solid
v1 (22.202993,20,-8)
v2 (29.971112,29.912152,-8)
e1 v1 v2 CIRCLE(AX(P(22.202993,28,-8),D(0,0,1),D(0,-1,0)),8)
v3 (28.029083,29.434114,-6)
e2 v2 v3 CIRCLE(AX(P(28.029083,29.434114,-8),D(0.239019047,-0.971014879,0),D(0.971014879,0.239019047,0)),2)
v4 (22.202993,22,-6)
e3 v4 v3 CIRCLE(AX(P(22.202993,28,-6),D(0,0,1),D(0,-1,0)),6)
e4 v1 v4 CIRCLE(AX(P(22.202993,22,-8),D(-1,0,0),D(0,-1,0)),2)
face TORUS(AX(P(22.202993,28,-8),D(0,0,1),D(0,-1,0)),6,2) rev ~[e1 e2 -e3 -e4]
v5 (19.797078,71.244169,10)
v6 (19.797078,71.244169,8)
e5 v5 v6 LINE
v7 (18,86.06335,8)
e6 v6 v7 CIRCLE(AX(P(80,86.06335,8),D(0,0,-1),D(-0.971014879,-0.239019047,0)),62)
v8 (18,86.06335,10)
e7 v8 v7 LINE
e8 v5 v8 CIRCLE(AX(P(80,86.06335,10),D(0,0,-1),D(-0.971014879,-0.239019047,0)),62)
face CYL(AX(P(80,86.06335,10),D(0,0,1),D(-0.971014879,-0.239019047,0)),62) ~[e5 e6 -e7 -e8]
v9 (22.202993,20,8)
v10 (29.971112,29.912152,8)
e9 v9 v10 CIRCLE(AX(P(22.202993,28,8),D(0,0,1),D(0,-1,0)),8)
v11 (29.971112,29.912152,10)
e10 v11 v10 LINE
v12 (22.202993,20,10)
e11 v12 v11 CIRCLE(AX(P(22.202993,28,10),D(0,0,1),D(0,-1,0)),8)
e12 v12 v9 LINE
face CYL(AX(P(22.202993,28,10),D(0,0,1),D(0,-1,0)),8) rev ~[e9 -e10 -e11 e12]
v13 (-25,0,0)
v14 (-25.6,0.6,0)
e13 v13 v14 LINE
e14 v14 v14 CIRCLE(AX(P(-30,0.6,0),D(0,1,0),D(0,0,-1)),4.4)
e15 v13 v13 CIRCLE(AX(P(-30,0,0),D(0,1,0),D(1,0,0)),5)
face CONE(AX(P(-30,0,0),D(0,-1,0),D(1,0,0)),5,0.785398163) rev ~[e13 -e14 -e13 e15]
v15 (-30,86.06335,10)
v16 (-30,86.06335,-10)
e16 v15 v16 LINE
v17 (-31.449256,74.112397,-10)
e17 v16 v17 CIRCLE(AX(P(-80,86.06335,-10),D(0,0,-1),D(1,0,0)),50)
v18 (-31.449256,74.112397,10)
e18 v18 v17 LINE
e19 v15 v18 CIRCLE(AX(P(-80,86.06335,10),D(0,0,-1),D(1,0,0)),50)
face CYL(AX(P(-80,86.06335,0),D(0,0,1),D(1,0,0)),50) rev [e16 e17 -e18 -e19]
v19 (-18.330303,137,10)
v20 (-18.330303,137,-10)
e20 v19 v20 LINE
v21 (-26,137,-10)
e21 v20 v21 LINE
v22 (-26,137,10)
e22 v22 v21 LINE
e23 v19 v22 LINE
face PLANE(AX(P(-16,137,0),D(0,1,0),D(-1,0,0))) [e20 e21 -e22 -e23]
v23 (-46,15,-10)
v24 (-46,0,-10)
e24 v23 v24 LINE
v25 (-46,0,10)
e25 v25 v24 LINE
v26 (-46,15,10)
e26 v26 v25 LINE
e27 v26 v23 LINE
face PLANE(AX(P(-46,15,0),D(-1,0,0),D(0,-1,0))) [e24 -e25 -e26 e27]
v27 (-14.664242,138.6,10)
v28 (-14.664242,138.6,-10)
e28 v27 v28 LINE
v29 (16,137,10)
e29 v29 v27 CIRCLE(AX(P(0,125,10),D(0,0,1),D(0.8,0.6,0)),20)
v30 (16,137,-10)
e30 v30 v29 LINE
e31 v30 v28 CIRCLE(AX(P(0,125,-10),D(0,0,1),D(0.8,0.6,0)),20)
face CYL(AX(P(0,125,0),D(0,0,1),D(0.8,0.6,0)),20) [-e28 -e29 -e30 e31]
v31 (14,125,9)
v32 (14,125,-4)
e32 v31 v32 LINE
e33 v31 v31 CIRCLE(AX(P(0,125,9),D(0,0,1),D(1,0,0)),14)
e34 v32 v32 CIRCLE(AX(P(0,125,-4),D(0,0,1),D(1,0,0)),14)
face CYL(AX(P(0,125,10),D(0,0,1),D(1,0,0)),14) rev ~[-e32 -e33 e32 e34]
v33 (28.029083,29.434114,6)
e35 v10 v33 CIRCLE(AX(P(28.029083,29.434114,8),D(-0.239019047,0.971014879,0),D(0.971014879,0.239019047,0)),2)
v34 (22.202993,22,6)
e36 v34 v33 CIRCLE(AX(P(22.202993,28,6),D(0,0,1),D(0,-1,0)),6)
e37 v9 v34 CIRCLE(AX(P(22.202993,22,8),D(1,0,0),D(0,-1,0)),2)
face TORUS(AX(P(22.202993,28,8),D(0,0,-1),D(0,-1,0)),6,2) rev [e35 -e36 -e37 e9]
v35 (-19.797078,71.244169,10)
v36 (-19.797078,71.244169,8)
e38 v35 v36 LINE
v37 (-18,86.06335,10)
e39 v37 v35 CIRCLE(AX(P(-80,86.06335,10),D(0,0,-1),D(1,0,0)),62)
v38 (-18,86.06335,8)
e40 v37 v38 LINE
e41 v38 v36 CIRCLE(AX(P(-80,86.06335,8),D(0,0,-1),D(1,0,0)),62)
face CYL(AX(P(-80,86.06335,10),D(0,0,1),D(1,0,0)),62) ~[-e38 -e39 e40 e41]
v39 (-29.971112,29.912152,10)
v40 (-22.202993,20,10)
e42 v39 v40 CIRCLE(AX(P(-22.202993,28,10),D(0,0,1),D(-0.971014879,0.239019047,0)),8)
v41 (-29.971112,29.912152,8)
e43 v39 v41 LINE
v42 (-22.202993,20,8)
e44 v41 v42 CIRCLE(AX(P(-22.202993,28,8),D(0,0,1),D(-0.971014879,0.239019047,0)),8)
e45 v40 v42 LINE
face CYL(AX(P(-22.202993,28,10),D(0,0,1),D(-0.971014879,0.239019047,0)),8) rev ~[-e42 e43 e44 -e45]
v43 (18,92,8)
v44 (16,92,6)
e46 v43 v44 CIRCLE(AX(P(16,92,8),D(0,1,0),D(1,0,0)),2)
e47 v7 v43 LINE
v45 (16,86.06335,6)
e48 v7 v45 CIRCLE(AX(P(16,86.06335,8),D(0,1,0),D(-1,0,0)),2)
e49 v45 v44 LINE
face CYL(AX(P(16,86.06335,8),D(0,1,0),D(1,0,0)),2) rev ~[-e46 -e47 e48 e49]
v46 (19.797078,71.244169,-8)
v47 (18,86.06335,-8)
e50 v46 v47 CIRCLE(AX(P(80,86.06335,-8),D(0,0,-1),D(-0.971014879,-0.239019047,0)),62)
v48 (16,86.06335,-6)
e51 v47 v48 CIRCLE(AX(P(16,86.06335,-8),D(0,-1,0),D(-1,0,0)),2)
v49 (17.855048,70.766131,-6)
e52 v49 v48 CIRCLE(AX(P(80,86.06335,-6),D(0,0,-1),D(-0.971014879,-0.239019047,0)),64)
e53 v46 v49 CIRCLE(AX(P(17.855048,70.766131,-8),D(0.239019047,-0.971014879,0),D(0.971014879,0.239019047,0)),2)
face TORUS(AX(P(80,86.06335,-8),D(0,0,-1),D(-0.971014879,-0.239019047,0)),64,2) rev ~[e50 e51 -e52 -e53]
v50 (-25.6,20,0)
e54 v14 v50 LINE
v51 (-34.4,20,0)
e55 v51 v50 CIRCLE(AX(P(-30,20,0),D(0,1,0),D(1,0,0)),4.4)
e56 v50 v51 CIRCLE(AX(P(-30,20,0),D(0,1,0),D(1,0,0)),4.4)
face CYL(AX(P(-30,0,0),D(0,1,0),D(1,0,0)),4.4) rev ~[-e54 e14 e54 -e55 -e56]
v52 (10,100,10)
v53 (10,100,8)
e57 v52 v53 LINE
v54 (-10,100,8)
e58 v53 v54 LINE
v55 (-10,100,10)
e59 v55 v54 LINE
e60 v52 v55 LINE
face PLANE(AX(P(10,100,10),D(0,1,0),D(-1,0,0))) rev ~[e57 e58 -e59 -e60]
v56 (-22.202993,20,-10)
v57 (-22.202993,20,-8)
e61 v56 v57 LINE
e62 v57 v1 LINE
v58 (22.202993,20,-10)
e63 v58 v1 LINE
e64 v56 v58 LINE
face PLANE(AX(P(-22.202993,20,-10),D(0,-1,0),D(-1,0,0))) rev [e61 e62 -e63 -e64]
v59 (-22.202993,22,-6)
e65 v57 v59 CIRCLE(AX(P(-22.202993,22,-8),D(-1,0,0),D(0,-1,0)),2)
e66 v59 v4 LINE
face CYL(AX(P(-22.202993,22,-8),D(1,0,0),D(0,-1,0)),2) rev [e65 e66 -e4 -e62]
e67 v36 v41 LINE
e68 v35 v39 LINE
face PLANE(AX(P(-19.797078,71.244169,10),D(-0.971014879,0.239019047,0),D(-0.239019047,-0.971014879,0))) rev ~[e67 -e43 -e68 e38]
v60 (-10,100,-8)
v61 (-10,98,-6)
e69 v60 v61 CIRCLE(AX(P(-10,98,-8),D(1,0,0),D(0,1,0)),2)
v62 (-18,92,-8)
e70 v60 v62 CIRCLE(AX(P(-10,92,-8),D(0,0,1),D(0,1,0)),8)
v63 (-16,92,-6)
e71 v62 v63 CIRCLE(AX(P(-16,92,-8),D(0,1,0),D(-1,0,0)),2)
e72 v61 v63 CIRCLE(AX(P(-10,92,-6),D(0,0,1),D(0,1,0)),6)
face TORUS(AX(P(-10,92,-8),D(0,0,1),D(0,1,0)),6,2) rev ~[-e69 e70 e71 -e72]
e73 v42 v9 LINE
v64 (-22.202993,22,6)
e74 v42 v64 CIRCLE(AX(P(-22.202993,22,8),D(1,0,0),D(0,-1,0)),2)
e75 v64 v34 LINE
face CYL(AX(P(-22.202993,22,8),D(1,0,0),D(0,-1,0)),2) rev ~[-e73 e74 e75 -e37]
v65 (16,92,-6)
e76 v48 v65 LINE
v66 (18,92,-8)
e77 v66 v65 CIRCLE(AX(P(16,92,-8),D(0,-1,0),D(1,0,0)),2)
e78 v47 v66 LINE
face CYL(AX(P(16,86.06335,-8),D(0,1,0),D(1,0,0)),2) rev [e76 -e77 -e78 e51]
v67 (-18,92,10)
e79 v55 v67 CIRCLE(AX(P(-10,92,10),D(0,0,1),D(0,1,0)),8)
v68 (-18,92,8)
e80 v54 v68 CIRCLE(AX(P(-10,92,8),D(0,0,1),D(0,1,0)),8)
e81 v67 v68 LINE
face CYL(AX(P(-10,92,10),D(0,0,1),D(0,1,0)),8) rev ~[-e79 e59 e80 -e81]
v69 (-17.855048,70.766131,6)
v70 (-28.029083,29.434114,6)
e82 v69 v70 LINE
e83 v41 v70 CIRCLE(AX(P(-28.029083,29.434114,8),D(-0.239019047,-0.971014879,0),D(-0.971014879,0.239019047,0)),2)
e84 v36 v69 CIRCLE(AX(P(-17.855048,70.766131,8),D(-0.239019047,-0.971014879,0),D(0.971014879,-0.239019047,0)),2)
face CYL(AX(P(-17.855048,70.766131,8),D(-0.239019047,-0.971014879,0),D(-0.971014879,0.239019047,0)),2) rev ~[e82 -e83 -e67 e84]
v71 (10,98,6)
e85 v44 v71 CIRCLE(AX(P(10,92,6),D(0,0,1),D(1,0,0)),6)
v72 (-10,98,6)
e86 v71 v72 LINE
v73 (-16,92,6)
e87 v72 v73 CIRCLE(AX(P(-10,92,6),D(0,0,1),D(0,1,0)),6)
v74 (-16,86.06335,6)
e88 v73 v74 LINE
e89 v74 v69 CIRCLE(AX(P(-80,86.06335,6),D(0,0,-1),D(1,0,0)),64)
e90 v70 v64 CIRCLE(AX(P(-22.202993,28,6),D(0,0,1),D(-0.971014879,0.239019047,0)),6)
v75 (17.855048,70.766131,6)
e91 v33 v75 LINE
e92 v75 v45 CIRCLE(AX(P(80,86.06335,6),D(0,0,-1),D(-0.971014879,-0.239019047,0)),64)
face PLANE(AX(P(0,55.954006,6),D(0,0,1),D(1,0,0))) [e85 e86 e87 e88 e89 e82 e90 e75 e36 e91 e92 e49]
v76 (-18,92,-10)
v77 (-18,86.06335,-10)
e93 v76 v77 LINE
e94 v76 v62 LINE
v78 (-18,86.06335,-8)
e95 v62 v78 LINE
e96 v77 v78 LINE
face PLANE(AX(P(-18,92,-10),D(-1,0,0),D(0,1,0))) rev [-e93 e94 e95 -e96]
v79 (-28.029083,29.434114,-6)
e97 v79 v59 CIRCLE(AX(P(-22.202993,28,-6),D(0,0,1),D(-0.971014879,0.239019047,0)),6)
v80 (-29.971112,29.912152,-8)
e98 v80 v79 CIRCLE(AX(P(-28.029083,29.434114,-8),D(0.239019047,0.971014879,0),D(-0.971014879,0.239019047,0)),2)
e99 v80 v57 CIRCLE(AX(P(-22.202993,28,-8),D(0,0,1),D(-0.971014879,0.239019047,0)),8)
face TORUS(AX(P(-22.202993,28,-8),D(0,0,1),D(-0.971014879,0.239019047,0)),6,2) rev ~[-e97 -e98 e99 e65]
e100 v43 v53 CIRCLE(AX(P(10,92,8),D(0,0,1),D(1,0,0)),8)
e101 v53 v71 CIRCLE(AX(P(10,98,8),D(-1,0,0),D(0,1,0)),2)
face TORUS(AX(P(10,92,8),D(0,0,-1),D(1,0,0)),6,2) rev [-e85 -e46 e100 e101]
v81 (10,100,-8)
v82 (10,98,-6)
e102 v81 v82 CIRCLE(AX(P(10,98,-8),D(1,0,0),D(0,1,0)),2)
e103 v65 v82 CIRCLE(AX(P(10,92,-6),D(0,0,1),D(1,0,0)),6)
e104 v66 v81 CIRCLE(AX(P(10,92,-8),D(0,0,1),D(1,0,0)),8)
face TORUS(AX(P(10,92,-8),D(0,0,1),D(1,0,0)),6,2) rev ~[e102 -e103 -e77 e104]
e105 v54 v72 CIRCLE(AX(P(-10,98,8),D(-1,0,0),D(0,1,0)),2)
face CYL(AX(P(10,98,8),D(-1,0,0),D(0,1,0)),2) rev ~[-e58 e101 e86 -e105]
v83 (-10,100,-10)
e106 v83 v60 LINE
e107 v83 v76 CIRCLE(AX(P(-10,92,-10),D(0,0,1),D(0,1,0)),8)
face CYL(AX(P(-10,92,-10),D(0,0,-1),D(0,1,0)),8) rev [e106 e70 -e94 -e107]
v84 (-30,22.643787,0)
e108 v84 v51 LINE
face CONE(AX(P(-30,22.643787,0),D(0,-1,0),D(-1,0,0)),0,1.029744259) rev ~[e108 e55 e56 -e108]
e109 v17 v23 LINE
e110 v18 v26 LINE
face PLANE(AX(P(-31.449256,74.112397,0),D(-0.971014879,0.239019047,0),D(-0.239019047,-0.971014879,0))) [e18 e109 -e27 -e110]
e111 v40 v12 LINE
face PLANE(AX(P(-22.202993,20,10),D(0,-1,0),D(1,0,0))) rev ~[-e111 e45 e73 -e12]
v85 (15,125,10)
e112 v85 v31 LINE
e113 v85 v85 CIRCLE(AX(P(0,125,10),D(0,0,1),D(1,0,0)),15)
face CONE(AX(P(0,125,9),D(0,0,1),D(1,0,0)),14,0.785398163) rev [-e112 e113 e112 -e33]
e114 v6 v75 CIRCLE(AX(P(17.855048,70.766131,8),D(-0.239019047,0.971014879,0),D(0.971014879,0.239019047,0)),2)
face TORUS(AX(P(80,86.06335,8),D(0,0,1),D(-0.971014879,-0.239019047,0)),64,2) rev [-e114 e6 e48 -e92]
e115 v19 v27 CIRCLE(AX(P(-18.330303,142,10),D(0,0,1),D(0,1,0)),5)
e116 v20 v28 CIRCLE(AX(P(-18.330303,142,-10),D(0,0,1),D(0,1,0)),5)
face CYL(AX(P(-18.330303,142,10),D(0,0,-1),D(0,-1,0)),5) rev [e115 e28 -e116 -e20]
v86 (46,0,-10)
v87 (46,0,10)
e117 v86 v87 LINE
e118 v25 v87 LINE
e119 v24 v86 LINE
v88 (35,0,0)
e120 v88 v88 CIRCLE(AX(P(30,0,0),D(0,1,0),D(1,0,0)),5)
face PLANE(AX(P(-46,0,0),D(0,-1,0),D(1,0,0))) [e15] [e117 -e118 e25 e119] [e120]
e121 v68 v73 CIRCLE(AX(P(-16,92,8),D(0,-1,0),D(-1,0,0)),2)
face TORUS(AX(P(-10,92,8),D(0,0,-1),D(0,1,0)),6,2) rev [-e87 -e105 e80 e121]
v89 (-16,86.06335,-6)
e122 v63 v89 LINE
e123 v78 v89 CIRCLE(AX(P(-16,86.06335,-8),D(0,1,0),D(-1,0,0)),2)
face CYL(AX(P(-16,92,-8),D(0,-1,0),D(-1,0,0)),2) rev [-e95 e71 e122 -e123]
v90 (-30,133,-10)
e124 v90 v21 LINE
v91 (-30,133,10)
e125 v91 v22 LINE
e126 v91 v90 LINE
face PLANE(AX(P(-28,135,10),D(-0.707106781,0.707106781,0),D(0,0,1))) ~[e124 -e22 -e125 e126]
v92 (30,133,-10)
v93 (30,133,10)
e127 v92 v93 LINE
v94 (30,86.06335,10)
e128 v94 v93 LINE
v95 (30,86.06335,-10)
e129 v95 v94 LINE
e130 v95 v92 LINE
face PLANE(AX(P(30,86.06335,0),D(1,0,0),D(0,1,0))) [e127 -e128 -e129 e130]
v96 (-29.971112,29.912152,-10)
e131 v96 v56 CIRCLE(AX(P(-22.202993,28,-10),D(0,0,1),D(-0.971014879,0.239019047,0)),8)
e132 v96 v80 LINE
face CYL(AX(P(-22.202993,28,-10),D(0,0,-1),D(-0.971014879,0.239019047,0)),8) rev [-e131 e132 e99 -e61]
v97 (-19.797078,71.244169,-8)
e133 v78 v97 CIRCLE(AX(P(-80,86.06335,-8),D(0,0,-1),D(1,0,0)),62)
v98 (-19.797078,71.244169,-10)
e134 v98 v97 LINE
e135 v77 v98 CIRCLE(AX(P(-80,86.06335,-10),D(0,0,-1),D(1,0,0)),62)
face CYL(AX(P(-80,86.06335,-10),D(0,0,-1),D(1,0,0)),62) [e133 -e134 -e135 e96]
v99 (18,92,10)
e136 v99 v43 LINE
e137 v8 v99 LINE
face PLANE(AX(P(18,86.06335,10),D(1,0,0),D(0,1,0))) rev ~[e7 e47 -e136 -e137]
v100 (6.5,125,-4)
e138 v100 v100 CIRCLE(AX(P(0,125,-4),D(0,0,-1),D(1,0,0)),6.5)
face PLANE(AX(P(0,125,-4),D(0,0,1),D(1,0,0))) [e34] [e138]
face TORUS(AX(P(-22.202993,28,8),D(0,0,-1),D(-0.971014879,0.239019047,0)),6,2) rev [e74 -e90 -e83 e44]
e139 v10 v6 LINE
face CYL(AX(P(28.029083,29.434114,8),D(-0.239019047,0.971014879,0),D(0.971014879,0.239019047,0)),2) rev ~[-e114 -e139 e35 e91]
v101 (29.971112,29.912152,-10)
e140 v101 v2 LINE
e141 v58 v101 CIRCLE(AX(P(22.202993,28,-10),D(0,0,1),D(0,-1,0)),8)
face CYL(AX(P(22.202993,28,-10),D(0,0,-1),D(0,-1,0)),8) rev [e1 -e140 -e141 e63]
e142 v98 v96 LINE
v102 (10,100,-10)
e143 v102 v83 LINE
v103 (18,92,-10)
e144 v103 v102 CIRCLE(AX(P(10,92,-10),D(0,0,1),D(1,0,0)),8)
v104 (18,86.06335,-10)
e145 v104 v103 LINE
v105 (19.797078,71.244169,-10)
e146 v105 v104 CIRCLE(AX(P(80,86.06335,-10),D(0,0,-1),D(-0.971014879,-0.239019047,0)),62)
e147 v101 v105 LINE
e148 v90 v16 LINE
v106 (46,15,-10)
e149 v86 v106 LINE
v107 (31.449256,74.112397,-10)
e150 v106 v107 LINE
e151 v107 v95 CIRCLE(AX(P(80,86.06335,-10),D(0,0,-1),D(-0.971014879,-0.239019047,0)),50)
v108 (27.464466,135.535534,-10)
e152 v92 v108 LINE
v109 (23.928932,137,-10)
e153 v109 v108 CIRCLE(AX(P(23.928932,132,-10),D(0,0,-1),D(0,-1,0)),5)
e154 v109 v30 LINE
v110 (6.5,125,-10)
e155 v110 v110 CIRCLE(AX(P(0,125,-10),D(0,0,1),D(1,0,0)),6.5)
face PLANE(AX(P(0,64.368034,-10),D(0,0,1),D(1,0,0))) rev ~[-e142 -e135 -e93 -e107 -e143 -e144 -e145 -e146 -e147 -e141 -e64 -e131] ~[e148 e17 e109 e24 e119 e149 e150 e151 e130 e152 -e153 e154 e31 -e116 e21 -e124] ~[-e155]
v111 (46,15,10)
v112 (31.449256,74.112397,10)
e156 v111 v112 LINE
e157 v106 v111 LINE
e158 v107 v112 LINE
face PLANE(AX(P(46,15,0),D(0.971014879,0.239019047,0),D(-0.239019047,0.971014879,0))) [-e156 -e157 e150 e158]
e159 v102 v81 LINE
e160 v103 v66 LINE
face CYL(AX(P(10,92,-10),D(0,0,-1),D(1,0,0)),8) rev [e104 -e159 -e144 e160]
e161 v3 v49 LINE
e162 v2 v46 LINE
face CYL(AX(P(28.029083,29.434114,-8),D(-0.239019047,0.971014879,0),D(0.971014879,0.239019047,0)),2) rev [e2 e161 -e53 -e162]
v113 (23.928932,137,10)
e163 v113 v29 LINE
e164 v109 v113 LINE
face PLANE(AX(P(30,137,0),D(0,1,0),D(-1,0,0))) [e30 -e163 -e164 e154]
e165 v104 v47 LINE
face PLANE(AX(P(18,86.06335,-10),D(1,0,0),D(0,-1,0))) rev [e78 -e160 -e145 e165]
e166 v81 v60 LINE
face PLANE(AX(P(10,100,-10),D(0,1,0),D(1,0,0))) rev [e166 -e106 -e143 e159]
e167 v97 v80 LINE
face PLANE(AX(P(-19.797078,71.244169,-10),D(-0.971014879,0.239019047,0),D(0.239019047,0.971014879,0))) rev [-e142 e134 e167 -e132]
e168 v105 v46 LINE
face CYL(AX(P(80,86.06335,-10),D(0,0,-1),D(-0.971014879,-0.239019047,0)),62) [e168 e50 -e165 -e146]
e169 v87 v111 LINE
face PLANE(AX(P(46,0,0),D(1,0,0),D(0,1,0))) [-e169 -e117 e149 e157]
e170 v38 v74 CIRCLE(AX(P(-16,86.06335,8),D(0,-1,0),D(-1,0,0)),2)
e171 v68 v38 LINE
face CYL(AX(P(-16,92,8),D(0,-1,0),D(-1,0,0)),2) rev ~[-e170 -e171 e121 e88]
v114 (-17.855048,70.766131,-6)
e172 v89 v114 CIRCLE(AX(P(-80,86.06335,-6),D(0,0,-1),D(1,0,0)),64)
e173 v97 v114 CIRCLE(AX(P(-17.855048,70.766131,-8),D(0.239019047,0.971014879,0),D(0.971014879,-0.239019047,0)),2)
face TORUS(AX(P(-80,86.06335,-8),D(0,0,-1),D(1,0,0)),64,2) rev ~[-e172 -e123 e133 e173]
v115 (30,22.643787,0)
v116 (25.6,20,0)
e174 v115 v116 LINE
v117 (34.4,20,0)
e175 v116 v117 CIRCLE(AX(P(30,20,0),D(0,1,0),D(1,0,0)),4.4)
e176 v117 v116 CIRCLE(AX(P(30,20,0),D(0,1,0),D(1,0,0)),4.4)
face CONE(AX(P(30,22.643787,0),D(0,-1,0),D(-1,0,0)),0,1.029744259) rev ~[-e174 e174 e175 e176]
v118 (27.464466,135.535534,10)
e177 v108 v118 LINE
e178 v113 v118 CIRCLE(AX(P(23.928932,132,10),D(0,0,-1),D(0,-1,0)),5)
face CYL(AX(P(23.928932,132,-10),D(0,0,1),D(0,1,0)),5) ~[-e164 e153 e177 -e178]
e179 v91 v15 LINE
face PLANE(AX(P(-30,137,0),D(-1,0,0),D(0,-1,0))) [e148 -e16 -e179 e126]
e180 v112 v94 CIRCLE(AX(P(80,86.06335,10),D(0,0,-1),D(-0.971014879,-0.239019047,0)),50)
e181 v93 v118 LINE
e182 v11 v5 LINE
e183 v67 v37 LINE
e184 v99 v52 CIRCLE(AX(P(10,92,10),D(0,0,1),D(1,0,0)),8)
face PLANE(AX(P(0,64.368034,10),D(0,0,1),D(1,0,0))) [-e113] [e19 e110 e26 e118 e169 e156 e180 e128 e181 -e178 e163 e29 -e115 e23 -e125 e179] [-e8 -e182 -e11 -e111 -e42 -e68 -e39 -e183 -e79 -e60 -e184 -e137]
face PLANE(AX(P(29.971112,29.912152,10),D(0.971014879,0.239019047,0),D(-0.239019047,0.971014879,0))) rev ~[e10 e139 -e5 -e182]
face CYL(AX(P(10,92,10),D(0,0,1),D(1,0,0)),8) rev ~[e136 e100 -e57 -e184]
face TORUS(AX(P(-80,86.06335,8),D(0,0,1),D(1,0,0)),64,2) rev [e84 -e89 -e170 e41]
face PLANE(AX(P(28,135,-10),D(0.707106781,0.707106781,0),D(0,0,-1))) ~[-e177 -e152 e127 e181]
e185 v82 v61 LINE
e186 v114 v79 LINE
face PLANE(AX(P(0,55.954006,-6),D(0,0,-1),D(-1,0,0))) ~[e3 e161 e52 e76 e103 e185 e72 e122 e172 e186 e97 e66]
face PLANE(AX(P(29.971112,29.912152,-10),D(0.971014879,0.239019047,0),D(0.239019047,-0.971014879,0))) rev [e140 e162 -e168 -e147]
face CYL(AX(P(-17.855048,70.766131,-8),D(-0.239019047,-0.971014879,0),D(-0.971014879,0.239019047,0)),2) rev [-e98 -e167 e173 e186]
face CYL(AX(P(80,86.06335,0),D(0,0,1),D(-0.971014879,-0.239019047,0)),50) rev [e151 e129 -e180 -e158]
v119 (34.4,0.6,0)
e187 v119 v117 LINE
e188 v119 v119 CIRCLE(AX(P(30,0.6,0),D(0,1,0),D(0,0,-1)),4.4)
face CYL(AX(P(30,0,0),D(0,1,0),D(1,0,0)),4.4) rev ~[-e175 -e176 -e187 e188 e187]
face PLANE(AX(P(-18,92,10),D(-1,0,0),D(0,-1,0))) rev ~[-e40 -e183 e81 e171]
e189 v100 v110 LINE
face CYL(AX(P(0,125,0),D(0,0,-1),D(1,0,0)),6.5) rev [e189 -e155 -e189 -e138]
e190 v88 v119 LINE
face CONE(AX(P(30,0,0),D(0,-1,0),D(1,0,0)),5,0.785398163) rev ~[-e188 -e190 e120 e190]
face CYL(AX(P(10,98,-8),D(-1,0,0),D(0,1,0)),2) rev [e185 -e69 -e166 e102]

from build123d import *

# Parameters (mm, degrees)
SKETCH1_R                         = 6.5
BOSS_EXTRUDE1_DEPTH               = 10
SKETCH2_R                         = 14
CUT_EXTRUDE1_DEPTH                = 14
CHAMFER1_SIZE                     = 1
CHAMFER2_SIZE                     = 4
FILLET1_R                         = 5
CUT_EXTRUDE2_DEPTH                = 4
FILLET2_R                         = 2
FILLET2_OF_MIRROR1_R              = 2
M10X1_25_TAPPED_HOLE1_D           = 8.8
M10X1_25_TAPPED_HOLE1_DEPTH       = 20
M10X1_25_TAPPED_HOLE1_CSINK_D     = 10
M10X1_25_TAPPED_HOLE1_CSINK_ANGLE = 90
M10X1_25_TAPPED_HOLE1_TIP         = 2.643786724


with BuildPart() as part:
    # Sketch1 → Boss-Extrude1 (new, symmetric)
    with BuildSketch(Plane.XY):
        with BuildLine():
            Line((-46, 0), (46, 0))
            Line((46, 0), (46, 15))
            Line((46, 15), (31.449256053, 74.112397284))
            ThreePointArc((31.449256053, 74.112397284), (30.363636327, 80.044097084), (30, 86.06334964))
            Line((30, 86.06334964), (30, 137))
            Line((30, 137), (16, 137))
            ThreePointArc((16, 137), (0, 145), (-16, 137))
            Line((-16, 137), (-30, 137))
            Line((-30, 137), (-30, 86.06334964))
            ThreePointArc((-30, 86.06334964), (-30.363636327, 80.044097084), (-31.449256053, 74.112397284))
            Line((-31.449256053, 74.112397284), (-46, 15))
            Line((-46, 15), (-46, 0))
        make_face()
        with Locations((0, 125)):
            Circle(SKETCH1_R, mode=Mode.SUBTRACT)
    extrude(amount=BOSS_EXTRUDE1_DEPTH, both=True)

    # Sketch2 → Cut-Extrude1 (cut)
    with BuildSketch(Plane.XY.offset(10)):
        with Locations((0, 125)):
            Circle(SKETCH2_R)
    extrude(amount=-CUT_EXTRUDE1_DEPTH, mode=Mode.SUBTRACT)

    # Chamfer1
    chamfer1_edges = [part.edges().sort_by_distance(p)[0] for p in [
        (-14, 125, 10),
    ]]
    chamfer(chamfer1_edges, length=CHAMFER1_SIZE)

    # Chamfer2
    chamfer2_edges = [part.edges().sort_by_distance(p)[0] for p in [
        (-30, 137, 0),
        (30, 137, 0),
    ]]
    chamfer(chamfer2_edges, length=CHAMFER2_SIZE)

    # Fillet1
    fillet1_edges = [part.edges().sort_by_distance(p)[0] for p in [
        (-16, 137, 0),
        (26, 137, 0),
    ]]
    fillet(fillet1_edges, radius=FILLET1_R)

    # Sketch3 → Cut-Extrude2 (cut)
    with BuildSketch(Plane.XY.offset(10)):
        with BuildLine():
            Line((-18, 92), (-18, 86.06334964))
            ThreePointArc((-18, 86.06334964), (-18.450909046, 78.59947647), (-19.797077506, 71.244168718))
            Line((-19.797077506, 71.244168718), (-29.971112298, 29.912152377))
            ThreePointArc((-29.971112298, 29.912152377), (-28.49970745, 23.065287193), (-22.202993266, 20))
            Line((-22.202993266, 20), (22.202993266, 20))
            ThreePointArc((22.202993266, 20), (28.49970745, 23.065287193), (29.971112298, 29.912152377))
            Line((29.971112298, 29.912152377), (19.797077506, 71.244168718))
            ThreePointArc((19.797077506, 71.244168718), (18.450909046, 78.59947647), (18, 86.06334964))
            Line((18, 86.06334964), (18, 92))
            ThreePointArc((18, 92), (15.656854249, 97.656854249), (10, 100))
            Line((10, 100), (-10, 100))
            ThreePointArc((-10, 100), (-15.656854249, 97.656854249), (-18, 92))
        make_face()
    cut_extrude2 = extrude(amount=-CUT_EXTRUDE2_DEPTH, mode=Mode.SUBTRACT)

    # Fillet2
    fillet2_edges = [part.edges().sort_by_distance(p)[0] for p in [
        (15.656854249, 97.656854249, 6),
        (18, 89.03167482, 6),
        (18.450909046, 78.59947647, 6),
        (24.884094902, 50.578160548, 6),
        (28.49970745, 23.065287193, 6),
        (0, 20, 6),
        (-28.49970745, 23.065287193, 6),
        (-24.884094902, 50.578160548, 6),
        (-18.450909046, 78.59947647, 6),
        (-18, 89.03167482, 6),
        (-15.656854249, 97.656854249, 6),
        (0, 100, 6),
    ]]
    fillet(fillet2_edges, radius=FILLET2_R)

    # Mirror1: Cut-Extrude2 across plane
    add(cut_extrude2.mirror(Plane.XY), mode=Mode.SUBTRACT)

    # Fillet2 of Mirror1
    fillet2_of_mirror1_edges = [part.edges().sort_by_distance(p)[0] for p in [
        (15.656854249, 97.656854249, -6),
        (18, 89.03167482, -6),
        (18.450909046, 78.59947647, -6),
        (24.884094902, 50.578160548, -6),
        (28.49970745, 23.065287193, -6),
        (0, 20, -6),
        (-28.49970745, 23.065287193, -6),
        (-24.884094902, 50.578160548, -6),
        (-18.450909046, 78.59947647, -6),
        (-18, 89.03167482, -6),
        (-15.656854249, 97.656854249, -6),
        (0, 100, -6),
    ]]
    fillet(fillet2_of_mirror1_edges, radius=FILLET2_OF_MIRROR1_R)

    # M10x1.25 Tapped Hole1
    with Locations(Plane(origin=(0, 0, 0), x_dir=(-1, 0, 0), z_dir=(0, -1, 0))):
        with Locations((-30, 0), (30, 0)):
            CounterSinkHole(M10X1_25_TAPPED_HOLE1_D / 2, M10X1_25_TAPPED_HOLE1_CSINK_D / 2, depth=M10X1_25_TAPPED_HOLE1_DEPTH, counter_sink_angle=M10X1_25_TAPPED_HOLE1_CSINK_ANGLE)
            with Locations((0, 0, -(M10X1_25_TAPPED_HOLE1_DEPTH + M10X1_25_TAPPED_HOLE1_TIP / 2))):  # 118° drill point
                Cone(0, M10X1_25_TAPPED_HOLE1_D / 2, M10X1_25_TAPPED_HOLE1_TIP, mode=Mode.SUBTRACT)


solid = part.part
